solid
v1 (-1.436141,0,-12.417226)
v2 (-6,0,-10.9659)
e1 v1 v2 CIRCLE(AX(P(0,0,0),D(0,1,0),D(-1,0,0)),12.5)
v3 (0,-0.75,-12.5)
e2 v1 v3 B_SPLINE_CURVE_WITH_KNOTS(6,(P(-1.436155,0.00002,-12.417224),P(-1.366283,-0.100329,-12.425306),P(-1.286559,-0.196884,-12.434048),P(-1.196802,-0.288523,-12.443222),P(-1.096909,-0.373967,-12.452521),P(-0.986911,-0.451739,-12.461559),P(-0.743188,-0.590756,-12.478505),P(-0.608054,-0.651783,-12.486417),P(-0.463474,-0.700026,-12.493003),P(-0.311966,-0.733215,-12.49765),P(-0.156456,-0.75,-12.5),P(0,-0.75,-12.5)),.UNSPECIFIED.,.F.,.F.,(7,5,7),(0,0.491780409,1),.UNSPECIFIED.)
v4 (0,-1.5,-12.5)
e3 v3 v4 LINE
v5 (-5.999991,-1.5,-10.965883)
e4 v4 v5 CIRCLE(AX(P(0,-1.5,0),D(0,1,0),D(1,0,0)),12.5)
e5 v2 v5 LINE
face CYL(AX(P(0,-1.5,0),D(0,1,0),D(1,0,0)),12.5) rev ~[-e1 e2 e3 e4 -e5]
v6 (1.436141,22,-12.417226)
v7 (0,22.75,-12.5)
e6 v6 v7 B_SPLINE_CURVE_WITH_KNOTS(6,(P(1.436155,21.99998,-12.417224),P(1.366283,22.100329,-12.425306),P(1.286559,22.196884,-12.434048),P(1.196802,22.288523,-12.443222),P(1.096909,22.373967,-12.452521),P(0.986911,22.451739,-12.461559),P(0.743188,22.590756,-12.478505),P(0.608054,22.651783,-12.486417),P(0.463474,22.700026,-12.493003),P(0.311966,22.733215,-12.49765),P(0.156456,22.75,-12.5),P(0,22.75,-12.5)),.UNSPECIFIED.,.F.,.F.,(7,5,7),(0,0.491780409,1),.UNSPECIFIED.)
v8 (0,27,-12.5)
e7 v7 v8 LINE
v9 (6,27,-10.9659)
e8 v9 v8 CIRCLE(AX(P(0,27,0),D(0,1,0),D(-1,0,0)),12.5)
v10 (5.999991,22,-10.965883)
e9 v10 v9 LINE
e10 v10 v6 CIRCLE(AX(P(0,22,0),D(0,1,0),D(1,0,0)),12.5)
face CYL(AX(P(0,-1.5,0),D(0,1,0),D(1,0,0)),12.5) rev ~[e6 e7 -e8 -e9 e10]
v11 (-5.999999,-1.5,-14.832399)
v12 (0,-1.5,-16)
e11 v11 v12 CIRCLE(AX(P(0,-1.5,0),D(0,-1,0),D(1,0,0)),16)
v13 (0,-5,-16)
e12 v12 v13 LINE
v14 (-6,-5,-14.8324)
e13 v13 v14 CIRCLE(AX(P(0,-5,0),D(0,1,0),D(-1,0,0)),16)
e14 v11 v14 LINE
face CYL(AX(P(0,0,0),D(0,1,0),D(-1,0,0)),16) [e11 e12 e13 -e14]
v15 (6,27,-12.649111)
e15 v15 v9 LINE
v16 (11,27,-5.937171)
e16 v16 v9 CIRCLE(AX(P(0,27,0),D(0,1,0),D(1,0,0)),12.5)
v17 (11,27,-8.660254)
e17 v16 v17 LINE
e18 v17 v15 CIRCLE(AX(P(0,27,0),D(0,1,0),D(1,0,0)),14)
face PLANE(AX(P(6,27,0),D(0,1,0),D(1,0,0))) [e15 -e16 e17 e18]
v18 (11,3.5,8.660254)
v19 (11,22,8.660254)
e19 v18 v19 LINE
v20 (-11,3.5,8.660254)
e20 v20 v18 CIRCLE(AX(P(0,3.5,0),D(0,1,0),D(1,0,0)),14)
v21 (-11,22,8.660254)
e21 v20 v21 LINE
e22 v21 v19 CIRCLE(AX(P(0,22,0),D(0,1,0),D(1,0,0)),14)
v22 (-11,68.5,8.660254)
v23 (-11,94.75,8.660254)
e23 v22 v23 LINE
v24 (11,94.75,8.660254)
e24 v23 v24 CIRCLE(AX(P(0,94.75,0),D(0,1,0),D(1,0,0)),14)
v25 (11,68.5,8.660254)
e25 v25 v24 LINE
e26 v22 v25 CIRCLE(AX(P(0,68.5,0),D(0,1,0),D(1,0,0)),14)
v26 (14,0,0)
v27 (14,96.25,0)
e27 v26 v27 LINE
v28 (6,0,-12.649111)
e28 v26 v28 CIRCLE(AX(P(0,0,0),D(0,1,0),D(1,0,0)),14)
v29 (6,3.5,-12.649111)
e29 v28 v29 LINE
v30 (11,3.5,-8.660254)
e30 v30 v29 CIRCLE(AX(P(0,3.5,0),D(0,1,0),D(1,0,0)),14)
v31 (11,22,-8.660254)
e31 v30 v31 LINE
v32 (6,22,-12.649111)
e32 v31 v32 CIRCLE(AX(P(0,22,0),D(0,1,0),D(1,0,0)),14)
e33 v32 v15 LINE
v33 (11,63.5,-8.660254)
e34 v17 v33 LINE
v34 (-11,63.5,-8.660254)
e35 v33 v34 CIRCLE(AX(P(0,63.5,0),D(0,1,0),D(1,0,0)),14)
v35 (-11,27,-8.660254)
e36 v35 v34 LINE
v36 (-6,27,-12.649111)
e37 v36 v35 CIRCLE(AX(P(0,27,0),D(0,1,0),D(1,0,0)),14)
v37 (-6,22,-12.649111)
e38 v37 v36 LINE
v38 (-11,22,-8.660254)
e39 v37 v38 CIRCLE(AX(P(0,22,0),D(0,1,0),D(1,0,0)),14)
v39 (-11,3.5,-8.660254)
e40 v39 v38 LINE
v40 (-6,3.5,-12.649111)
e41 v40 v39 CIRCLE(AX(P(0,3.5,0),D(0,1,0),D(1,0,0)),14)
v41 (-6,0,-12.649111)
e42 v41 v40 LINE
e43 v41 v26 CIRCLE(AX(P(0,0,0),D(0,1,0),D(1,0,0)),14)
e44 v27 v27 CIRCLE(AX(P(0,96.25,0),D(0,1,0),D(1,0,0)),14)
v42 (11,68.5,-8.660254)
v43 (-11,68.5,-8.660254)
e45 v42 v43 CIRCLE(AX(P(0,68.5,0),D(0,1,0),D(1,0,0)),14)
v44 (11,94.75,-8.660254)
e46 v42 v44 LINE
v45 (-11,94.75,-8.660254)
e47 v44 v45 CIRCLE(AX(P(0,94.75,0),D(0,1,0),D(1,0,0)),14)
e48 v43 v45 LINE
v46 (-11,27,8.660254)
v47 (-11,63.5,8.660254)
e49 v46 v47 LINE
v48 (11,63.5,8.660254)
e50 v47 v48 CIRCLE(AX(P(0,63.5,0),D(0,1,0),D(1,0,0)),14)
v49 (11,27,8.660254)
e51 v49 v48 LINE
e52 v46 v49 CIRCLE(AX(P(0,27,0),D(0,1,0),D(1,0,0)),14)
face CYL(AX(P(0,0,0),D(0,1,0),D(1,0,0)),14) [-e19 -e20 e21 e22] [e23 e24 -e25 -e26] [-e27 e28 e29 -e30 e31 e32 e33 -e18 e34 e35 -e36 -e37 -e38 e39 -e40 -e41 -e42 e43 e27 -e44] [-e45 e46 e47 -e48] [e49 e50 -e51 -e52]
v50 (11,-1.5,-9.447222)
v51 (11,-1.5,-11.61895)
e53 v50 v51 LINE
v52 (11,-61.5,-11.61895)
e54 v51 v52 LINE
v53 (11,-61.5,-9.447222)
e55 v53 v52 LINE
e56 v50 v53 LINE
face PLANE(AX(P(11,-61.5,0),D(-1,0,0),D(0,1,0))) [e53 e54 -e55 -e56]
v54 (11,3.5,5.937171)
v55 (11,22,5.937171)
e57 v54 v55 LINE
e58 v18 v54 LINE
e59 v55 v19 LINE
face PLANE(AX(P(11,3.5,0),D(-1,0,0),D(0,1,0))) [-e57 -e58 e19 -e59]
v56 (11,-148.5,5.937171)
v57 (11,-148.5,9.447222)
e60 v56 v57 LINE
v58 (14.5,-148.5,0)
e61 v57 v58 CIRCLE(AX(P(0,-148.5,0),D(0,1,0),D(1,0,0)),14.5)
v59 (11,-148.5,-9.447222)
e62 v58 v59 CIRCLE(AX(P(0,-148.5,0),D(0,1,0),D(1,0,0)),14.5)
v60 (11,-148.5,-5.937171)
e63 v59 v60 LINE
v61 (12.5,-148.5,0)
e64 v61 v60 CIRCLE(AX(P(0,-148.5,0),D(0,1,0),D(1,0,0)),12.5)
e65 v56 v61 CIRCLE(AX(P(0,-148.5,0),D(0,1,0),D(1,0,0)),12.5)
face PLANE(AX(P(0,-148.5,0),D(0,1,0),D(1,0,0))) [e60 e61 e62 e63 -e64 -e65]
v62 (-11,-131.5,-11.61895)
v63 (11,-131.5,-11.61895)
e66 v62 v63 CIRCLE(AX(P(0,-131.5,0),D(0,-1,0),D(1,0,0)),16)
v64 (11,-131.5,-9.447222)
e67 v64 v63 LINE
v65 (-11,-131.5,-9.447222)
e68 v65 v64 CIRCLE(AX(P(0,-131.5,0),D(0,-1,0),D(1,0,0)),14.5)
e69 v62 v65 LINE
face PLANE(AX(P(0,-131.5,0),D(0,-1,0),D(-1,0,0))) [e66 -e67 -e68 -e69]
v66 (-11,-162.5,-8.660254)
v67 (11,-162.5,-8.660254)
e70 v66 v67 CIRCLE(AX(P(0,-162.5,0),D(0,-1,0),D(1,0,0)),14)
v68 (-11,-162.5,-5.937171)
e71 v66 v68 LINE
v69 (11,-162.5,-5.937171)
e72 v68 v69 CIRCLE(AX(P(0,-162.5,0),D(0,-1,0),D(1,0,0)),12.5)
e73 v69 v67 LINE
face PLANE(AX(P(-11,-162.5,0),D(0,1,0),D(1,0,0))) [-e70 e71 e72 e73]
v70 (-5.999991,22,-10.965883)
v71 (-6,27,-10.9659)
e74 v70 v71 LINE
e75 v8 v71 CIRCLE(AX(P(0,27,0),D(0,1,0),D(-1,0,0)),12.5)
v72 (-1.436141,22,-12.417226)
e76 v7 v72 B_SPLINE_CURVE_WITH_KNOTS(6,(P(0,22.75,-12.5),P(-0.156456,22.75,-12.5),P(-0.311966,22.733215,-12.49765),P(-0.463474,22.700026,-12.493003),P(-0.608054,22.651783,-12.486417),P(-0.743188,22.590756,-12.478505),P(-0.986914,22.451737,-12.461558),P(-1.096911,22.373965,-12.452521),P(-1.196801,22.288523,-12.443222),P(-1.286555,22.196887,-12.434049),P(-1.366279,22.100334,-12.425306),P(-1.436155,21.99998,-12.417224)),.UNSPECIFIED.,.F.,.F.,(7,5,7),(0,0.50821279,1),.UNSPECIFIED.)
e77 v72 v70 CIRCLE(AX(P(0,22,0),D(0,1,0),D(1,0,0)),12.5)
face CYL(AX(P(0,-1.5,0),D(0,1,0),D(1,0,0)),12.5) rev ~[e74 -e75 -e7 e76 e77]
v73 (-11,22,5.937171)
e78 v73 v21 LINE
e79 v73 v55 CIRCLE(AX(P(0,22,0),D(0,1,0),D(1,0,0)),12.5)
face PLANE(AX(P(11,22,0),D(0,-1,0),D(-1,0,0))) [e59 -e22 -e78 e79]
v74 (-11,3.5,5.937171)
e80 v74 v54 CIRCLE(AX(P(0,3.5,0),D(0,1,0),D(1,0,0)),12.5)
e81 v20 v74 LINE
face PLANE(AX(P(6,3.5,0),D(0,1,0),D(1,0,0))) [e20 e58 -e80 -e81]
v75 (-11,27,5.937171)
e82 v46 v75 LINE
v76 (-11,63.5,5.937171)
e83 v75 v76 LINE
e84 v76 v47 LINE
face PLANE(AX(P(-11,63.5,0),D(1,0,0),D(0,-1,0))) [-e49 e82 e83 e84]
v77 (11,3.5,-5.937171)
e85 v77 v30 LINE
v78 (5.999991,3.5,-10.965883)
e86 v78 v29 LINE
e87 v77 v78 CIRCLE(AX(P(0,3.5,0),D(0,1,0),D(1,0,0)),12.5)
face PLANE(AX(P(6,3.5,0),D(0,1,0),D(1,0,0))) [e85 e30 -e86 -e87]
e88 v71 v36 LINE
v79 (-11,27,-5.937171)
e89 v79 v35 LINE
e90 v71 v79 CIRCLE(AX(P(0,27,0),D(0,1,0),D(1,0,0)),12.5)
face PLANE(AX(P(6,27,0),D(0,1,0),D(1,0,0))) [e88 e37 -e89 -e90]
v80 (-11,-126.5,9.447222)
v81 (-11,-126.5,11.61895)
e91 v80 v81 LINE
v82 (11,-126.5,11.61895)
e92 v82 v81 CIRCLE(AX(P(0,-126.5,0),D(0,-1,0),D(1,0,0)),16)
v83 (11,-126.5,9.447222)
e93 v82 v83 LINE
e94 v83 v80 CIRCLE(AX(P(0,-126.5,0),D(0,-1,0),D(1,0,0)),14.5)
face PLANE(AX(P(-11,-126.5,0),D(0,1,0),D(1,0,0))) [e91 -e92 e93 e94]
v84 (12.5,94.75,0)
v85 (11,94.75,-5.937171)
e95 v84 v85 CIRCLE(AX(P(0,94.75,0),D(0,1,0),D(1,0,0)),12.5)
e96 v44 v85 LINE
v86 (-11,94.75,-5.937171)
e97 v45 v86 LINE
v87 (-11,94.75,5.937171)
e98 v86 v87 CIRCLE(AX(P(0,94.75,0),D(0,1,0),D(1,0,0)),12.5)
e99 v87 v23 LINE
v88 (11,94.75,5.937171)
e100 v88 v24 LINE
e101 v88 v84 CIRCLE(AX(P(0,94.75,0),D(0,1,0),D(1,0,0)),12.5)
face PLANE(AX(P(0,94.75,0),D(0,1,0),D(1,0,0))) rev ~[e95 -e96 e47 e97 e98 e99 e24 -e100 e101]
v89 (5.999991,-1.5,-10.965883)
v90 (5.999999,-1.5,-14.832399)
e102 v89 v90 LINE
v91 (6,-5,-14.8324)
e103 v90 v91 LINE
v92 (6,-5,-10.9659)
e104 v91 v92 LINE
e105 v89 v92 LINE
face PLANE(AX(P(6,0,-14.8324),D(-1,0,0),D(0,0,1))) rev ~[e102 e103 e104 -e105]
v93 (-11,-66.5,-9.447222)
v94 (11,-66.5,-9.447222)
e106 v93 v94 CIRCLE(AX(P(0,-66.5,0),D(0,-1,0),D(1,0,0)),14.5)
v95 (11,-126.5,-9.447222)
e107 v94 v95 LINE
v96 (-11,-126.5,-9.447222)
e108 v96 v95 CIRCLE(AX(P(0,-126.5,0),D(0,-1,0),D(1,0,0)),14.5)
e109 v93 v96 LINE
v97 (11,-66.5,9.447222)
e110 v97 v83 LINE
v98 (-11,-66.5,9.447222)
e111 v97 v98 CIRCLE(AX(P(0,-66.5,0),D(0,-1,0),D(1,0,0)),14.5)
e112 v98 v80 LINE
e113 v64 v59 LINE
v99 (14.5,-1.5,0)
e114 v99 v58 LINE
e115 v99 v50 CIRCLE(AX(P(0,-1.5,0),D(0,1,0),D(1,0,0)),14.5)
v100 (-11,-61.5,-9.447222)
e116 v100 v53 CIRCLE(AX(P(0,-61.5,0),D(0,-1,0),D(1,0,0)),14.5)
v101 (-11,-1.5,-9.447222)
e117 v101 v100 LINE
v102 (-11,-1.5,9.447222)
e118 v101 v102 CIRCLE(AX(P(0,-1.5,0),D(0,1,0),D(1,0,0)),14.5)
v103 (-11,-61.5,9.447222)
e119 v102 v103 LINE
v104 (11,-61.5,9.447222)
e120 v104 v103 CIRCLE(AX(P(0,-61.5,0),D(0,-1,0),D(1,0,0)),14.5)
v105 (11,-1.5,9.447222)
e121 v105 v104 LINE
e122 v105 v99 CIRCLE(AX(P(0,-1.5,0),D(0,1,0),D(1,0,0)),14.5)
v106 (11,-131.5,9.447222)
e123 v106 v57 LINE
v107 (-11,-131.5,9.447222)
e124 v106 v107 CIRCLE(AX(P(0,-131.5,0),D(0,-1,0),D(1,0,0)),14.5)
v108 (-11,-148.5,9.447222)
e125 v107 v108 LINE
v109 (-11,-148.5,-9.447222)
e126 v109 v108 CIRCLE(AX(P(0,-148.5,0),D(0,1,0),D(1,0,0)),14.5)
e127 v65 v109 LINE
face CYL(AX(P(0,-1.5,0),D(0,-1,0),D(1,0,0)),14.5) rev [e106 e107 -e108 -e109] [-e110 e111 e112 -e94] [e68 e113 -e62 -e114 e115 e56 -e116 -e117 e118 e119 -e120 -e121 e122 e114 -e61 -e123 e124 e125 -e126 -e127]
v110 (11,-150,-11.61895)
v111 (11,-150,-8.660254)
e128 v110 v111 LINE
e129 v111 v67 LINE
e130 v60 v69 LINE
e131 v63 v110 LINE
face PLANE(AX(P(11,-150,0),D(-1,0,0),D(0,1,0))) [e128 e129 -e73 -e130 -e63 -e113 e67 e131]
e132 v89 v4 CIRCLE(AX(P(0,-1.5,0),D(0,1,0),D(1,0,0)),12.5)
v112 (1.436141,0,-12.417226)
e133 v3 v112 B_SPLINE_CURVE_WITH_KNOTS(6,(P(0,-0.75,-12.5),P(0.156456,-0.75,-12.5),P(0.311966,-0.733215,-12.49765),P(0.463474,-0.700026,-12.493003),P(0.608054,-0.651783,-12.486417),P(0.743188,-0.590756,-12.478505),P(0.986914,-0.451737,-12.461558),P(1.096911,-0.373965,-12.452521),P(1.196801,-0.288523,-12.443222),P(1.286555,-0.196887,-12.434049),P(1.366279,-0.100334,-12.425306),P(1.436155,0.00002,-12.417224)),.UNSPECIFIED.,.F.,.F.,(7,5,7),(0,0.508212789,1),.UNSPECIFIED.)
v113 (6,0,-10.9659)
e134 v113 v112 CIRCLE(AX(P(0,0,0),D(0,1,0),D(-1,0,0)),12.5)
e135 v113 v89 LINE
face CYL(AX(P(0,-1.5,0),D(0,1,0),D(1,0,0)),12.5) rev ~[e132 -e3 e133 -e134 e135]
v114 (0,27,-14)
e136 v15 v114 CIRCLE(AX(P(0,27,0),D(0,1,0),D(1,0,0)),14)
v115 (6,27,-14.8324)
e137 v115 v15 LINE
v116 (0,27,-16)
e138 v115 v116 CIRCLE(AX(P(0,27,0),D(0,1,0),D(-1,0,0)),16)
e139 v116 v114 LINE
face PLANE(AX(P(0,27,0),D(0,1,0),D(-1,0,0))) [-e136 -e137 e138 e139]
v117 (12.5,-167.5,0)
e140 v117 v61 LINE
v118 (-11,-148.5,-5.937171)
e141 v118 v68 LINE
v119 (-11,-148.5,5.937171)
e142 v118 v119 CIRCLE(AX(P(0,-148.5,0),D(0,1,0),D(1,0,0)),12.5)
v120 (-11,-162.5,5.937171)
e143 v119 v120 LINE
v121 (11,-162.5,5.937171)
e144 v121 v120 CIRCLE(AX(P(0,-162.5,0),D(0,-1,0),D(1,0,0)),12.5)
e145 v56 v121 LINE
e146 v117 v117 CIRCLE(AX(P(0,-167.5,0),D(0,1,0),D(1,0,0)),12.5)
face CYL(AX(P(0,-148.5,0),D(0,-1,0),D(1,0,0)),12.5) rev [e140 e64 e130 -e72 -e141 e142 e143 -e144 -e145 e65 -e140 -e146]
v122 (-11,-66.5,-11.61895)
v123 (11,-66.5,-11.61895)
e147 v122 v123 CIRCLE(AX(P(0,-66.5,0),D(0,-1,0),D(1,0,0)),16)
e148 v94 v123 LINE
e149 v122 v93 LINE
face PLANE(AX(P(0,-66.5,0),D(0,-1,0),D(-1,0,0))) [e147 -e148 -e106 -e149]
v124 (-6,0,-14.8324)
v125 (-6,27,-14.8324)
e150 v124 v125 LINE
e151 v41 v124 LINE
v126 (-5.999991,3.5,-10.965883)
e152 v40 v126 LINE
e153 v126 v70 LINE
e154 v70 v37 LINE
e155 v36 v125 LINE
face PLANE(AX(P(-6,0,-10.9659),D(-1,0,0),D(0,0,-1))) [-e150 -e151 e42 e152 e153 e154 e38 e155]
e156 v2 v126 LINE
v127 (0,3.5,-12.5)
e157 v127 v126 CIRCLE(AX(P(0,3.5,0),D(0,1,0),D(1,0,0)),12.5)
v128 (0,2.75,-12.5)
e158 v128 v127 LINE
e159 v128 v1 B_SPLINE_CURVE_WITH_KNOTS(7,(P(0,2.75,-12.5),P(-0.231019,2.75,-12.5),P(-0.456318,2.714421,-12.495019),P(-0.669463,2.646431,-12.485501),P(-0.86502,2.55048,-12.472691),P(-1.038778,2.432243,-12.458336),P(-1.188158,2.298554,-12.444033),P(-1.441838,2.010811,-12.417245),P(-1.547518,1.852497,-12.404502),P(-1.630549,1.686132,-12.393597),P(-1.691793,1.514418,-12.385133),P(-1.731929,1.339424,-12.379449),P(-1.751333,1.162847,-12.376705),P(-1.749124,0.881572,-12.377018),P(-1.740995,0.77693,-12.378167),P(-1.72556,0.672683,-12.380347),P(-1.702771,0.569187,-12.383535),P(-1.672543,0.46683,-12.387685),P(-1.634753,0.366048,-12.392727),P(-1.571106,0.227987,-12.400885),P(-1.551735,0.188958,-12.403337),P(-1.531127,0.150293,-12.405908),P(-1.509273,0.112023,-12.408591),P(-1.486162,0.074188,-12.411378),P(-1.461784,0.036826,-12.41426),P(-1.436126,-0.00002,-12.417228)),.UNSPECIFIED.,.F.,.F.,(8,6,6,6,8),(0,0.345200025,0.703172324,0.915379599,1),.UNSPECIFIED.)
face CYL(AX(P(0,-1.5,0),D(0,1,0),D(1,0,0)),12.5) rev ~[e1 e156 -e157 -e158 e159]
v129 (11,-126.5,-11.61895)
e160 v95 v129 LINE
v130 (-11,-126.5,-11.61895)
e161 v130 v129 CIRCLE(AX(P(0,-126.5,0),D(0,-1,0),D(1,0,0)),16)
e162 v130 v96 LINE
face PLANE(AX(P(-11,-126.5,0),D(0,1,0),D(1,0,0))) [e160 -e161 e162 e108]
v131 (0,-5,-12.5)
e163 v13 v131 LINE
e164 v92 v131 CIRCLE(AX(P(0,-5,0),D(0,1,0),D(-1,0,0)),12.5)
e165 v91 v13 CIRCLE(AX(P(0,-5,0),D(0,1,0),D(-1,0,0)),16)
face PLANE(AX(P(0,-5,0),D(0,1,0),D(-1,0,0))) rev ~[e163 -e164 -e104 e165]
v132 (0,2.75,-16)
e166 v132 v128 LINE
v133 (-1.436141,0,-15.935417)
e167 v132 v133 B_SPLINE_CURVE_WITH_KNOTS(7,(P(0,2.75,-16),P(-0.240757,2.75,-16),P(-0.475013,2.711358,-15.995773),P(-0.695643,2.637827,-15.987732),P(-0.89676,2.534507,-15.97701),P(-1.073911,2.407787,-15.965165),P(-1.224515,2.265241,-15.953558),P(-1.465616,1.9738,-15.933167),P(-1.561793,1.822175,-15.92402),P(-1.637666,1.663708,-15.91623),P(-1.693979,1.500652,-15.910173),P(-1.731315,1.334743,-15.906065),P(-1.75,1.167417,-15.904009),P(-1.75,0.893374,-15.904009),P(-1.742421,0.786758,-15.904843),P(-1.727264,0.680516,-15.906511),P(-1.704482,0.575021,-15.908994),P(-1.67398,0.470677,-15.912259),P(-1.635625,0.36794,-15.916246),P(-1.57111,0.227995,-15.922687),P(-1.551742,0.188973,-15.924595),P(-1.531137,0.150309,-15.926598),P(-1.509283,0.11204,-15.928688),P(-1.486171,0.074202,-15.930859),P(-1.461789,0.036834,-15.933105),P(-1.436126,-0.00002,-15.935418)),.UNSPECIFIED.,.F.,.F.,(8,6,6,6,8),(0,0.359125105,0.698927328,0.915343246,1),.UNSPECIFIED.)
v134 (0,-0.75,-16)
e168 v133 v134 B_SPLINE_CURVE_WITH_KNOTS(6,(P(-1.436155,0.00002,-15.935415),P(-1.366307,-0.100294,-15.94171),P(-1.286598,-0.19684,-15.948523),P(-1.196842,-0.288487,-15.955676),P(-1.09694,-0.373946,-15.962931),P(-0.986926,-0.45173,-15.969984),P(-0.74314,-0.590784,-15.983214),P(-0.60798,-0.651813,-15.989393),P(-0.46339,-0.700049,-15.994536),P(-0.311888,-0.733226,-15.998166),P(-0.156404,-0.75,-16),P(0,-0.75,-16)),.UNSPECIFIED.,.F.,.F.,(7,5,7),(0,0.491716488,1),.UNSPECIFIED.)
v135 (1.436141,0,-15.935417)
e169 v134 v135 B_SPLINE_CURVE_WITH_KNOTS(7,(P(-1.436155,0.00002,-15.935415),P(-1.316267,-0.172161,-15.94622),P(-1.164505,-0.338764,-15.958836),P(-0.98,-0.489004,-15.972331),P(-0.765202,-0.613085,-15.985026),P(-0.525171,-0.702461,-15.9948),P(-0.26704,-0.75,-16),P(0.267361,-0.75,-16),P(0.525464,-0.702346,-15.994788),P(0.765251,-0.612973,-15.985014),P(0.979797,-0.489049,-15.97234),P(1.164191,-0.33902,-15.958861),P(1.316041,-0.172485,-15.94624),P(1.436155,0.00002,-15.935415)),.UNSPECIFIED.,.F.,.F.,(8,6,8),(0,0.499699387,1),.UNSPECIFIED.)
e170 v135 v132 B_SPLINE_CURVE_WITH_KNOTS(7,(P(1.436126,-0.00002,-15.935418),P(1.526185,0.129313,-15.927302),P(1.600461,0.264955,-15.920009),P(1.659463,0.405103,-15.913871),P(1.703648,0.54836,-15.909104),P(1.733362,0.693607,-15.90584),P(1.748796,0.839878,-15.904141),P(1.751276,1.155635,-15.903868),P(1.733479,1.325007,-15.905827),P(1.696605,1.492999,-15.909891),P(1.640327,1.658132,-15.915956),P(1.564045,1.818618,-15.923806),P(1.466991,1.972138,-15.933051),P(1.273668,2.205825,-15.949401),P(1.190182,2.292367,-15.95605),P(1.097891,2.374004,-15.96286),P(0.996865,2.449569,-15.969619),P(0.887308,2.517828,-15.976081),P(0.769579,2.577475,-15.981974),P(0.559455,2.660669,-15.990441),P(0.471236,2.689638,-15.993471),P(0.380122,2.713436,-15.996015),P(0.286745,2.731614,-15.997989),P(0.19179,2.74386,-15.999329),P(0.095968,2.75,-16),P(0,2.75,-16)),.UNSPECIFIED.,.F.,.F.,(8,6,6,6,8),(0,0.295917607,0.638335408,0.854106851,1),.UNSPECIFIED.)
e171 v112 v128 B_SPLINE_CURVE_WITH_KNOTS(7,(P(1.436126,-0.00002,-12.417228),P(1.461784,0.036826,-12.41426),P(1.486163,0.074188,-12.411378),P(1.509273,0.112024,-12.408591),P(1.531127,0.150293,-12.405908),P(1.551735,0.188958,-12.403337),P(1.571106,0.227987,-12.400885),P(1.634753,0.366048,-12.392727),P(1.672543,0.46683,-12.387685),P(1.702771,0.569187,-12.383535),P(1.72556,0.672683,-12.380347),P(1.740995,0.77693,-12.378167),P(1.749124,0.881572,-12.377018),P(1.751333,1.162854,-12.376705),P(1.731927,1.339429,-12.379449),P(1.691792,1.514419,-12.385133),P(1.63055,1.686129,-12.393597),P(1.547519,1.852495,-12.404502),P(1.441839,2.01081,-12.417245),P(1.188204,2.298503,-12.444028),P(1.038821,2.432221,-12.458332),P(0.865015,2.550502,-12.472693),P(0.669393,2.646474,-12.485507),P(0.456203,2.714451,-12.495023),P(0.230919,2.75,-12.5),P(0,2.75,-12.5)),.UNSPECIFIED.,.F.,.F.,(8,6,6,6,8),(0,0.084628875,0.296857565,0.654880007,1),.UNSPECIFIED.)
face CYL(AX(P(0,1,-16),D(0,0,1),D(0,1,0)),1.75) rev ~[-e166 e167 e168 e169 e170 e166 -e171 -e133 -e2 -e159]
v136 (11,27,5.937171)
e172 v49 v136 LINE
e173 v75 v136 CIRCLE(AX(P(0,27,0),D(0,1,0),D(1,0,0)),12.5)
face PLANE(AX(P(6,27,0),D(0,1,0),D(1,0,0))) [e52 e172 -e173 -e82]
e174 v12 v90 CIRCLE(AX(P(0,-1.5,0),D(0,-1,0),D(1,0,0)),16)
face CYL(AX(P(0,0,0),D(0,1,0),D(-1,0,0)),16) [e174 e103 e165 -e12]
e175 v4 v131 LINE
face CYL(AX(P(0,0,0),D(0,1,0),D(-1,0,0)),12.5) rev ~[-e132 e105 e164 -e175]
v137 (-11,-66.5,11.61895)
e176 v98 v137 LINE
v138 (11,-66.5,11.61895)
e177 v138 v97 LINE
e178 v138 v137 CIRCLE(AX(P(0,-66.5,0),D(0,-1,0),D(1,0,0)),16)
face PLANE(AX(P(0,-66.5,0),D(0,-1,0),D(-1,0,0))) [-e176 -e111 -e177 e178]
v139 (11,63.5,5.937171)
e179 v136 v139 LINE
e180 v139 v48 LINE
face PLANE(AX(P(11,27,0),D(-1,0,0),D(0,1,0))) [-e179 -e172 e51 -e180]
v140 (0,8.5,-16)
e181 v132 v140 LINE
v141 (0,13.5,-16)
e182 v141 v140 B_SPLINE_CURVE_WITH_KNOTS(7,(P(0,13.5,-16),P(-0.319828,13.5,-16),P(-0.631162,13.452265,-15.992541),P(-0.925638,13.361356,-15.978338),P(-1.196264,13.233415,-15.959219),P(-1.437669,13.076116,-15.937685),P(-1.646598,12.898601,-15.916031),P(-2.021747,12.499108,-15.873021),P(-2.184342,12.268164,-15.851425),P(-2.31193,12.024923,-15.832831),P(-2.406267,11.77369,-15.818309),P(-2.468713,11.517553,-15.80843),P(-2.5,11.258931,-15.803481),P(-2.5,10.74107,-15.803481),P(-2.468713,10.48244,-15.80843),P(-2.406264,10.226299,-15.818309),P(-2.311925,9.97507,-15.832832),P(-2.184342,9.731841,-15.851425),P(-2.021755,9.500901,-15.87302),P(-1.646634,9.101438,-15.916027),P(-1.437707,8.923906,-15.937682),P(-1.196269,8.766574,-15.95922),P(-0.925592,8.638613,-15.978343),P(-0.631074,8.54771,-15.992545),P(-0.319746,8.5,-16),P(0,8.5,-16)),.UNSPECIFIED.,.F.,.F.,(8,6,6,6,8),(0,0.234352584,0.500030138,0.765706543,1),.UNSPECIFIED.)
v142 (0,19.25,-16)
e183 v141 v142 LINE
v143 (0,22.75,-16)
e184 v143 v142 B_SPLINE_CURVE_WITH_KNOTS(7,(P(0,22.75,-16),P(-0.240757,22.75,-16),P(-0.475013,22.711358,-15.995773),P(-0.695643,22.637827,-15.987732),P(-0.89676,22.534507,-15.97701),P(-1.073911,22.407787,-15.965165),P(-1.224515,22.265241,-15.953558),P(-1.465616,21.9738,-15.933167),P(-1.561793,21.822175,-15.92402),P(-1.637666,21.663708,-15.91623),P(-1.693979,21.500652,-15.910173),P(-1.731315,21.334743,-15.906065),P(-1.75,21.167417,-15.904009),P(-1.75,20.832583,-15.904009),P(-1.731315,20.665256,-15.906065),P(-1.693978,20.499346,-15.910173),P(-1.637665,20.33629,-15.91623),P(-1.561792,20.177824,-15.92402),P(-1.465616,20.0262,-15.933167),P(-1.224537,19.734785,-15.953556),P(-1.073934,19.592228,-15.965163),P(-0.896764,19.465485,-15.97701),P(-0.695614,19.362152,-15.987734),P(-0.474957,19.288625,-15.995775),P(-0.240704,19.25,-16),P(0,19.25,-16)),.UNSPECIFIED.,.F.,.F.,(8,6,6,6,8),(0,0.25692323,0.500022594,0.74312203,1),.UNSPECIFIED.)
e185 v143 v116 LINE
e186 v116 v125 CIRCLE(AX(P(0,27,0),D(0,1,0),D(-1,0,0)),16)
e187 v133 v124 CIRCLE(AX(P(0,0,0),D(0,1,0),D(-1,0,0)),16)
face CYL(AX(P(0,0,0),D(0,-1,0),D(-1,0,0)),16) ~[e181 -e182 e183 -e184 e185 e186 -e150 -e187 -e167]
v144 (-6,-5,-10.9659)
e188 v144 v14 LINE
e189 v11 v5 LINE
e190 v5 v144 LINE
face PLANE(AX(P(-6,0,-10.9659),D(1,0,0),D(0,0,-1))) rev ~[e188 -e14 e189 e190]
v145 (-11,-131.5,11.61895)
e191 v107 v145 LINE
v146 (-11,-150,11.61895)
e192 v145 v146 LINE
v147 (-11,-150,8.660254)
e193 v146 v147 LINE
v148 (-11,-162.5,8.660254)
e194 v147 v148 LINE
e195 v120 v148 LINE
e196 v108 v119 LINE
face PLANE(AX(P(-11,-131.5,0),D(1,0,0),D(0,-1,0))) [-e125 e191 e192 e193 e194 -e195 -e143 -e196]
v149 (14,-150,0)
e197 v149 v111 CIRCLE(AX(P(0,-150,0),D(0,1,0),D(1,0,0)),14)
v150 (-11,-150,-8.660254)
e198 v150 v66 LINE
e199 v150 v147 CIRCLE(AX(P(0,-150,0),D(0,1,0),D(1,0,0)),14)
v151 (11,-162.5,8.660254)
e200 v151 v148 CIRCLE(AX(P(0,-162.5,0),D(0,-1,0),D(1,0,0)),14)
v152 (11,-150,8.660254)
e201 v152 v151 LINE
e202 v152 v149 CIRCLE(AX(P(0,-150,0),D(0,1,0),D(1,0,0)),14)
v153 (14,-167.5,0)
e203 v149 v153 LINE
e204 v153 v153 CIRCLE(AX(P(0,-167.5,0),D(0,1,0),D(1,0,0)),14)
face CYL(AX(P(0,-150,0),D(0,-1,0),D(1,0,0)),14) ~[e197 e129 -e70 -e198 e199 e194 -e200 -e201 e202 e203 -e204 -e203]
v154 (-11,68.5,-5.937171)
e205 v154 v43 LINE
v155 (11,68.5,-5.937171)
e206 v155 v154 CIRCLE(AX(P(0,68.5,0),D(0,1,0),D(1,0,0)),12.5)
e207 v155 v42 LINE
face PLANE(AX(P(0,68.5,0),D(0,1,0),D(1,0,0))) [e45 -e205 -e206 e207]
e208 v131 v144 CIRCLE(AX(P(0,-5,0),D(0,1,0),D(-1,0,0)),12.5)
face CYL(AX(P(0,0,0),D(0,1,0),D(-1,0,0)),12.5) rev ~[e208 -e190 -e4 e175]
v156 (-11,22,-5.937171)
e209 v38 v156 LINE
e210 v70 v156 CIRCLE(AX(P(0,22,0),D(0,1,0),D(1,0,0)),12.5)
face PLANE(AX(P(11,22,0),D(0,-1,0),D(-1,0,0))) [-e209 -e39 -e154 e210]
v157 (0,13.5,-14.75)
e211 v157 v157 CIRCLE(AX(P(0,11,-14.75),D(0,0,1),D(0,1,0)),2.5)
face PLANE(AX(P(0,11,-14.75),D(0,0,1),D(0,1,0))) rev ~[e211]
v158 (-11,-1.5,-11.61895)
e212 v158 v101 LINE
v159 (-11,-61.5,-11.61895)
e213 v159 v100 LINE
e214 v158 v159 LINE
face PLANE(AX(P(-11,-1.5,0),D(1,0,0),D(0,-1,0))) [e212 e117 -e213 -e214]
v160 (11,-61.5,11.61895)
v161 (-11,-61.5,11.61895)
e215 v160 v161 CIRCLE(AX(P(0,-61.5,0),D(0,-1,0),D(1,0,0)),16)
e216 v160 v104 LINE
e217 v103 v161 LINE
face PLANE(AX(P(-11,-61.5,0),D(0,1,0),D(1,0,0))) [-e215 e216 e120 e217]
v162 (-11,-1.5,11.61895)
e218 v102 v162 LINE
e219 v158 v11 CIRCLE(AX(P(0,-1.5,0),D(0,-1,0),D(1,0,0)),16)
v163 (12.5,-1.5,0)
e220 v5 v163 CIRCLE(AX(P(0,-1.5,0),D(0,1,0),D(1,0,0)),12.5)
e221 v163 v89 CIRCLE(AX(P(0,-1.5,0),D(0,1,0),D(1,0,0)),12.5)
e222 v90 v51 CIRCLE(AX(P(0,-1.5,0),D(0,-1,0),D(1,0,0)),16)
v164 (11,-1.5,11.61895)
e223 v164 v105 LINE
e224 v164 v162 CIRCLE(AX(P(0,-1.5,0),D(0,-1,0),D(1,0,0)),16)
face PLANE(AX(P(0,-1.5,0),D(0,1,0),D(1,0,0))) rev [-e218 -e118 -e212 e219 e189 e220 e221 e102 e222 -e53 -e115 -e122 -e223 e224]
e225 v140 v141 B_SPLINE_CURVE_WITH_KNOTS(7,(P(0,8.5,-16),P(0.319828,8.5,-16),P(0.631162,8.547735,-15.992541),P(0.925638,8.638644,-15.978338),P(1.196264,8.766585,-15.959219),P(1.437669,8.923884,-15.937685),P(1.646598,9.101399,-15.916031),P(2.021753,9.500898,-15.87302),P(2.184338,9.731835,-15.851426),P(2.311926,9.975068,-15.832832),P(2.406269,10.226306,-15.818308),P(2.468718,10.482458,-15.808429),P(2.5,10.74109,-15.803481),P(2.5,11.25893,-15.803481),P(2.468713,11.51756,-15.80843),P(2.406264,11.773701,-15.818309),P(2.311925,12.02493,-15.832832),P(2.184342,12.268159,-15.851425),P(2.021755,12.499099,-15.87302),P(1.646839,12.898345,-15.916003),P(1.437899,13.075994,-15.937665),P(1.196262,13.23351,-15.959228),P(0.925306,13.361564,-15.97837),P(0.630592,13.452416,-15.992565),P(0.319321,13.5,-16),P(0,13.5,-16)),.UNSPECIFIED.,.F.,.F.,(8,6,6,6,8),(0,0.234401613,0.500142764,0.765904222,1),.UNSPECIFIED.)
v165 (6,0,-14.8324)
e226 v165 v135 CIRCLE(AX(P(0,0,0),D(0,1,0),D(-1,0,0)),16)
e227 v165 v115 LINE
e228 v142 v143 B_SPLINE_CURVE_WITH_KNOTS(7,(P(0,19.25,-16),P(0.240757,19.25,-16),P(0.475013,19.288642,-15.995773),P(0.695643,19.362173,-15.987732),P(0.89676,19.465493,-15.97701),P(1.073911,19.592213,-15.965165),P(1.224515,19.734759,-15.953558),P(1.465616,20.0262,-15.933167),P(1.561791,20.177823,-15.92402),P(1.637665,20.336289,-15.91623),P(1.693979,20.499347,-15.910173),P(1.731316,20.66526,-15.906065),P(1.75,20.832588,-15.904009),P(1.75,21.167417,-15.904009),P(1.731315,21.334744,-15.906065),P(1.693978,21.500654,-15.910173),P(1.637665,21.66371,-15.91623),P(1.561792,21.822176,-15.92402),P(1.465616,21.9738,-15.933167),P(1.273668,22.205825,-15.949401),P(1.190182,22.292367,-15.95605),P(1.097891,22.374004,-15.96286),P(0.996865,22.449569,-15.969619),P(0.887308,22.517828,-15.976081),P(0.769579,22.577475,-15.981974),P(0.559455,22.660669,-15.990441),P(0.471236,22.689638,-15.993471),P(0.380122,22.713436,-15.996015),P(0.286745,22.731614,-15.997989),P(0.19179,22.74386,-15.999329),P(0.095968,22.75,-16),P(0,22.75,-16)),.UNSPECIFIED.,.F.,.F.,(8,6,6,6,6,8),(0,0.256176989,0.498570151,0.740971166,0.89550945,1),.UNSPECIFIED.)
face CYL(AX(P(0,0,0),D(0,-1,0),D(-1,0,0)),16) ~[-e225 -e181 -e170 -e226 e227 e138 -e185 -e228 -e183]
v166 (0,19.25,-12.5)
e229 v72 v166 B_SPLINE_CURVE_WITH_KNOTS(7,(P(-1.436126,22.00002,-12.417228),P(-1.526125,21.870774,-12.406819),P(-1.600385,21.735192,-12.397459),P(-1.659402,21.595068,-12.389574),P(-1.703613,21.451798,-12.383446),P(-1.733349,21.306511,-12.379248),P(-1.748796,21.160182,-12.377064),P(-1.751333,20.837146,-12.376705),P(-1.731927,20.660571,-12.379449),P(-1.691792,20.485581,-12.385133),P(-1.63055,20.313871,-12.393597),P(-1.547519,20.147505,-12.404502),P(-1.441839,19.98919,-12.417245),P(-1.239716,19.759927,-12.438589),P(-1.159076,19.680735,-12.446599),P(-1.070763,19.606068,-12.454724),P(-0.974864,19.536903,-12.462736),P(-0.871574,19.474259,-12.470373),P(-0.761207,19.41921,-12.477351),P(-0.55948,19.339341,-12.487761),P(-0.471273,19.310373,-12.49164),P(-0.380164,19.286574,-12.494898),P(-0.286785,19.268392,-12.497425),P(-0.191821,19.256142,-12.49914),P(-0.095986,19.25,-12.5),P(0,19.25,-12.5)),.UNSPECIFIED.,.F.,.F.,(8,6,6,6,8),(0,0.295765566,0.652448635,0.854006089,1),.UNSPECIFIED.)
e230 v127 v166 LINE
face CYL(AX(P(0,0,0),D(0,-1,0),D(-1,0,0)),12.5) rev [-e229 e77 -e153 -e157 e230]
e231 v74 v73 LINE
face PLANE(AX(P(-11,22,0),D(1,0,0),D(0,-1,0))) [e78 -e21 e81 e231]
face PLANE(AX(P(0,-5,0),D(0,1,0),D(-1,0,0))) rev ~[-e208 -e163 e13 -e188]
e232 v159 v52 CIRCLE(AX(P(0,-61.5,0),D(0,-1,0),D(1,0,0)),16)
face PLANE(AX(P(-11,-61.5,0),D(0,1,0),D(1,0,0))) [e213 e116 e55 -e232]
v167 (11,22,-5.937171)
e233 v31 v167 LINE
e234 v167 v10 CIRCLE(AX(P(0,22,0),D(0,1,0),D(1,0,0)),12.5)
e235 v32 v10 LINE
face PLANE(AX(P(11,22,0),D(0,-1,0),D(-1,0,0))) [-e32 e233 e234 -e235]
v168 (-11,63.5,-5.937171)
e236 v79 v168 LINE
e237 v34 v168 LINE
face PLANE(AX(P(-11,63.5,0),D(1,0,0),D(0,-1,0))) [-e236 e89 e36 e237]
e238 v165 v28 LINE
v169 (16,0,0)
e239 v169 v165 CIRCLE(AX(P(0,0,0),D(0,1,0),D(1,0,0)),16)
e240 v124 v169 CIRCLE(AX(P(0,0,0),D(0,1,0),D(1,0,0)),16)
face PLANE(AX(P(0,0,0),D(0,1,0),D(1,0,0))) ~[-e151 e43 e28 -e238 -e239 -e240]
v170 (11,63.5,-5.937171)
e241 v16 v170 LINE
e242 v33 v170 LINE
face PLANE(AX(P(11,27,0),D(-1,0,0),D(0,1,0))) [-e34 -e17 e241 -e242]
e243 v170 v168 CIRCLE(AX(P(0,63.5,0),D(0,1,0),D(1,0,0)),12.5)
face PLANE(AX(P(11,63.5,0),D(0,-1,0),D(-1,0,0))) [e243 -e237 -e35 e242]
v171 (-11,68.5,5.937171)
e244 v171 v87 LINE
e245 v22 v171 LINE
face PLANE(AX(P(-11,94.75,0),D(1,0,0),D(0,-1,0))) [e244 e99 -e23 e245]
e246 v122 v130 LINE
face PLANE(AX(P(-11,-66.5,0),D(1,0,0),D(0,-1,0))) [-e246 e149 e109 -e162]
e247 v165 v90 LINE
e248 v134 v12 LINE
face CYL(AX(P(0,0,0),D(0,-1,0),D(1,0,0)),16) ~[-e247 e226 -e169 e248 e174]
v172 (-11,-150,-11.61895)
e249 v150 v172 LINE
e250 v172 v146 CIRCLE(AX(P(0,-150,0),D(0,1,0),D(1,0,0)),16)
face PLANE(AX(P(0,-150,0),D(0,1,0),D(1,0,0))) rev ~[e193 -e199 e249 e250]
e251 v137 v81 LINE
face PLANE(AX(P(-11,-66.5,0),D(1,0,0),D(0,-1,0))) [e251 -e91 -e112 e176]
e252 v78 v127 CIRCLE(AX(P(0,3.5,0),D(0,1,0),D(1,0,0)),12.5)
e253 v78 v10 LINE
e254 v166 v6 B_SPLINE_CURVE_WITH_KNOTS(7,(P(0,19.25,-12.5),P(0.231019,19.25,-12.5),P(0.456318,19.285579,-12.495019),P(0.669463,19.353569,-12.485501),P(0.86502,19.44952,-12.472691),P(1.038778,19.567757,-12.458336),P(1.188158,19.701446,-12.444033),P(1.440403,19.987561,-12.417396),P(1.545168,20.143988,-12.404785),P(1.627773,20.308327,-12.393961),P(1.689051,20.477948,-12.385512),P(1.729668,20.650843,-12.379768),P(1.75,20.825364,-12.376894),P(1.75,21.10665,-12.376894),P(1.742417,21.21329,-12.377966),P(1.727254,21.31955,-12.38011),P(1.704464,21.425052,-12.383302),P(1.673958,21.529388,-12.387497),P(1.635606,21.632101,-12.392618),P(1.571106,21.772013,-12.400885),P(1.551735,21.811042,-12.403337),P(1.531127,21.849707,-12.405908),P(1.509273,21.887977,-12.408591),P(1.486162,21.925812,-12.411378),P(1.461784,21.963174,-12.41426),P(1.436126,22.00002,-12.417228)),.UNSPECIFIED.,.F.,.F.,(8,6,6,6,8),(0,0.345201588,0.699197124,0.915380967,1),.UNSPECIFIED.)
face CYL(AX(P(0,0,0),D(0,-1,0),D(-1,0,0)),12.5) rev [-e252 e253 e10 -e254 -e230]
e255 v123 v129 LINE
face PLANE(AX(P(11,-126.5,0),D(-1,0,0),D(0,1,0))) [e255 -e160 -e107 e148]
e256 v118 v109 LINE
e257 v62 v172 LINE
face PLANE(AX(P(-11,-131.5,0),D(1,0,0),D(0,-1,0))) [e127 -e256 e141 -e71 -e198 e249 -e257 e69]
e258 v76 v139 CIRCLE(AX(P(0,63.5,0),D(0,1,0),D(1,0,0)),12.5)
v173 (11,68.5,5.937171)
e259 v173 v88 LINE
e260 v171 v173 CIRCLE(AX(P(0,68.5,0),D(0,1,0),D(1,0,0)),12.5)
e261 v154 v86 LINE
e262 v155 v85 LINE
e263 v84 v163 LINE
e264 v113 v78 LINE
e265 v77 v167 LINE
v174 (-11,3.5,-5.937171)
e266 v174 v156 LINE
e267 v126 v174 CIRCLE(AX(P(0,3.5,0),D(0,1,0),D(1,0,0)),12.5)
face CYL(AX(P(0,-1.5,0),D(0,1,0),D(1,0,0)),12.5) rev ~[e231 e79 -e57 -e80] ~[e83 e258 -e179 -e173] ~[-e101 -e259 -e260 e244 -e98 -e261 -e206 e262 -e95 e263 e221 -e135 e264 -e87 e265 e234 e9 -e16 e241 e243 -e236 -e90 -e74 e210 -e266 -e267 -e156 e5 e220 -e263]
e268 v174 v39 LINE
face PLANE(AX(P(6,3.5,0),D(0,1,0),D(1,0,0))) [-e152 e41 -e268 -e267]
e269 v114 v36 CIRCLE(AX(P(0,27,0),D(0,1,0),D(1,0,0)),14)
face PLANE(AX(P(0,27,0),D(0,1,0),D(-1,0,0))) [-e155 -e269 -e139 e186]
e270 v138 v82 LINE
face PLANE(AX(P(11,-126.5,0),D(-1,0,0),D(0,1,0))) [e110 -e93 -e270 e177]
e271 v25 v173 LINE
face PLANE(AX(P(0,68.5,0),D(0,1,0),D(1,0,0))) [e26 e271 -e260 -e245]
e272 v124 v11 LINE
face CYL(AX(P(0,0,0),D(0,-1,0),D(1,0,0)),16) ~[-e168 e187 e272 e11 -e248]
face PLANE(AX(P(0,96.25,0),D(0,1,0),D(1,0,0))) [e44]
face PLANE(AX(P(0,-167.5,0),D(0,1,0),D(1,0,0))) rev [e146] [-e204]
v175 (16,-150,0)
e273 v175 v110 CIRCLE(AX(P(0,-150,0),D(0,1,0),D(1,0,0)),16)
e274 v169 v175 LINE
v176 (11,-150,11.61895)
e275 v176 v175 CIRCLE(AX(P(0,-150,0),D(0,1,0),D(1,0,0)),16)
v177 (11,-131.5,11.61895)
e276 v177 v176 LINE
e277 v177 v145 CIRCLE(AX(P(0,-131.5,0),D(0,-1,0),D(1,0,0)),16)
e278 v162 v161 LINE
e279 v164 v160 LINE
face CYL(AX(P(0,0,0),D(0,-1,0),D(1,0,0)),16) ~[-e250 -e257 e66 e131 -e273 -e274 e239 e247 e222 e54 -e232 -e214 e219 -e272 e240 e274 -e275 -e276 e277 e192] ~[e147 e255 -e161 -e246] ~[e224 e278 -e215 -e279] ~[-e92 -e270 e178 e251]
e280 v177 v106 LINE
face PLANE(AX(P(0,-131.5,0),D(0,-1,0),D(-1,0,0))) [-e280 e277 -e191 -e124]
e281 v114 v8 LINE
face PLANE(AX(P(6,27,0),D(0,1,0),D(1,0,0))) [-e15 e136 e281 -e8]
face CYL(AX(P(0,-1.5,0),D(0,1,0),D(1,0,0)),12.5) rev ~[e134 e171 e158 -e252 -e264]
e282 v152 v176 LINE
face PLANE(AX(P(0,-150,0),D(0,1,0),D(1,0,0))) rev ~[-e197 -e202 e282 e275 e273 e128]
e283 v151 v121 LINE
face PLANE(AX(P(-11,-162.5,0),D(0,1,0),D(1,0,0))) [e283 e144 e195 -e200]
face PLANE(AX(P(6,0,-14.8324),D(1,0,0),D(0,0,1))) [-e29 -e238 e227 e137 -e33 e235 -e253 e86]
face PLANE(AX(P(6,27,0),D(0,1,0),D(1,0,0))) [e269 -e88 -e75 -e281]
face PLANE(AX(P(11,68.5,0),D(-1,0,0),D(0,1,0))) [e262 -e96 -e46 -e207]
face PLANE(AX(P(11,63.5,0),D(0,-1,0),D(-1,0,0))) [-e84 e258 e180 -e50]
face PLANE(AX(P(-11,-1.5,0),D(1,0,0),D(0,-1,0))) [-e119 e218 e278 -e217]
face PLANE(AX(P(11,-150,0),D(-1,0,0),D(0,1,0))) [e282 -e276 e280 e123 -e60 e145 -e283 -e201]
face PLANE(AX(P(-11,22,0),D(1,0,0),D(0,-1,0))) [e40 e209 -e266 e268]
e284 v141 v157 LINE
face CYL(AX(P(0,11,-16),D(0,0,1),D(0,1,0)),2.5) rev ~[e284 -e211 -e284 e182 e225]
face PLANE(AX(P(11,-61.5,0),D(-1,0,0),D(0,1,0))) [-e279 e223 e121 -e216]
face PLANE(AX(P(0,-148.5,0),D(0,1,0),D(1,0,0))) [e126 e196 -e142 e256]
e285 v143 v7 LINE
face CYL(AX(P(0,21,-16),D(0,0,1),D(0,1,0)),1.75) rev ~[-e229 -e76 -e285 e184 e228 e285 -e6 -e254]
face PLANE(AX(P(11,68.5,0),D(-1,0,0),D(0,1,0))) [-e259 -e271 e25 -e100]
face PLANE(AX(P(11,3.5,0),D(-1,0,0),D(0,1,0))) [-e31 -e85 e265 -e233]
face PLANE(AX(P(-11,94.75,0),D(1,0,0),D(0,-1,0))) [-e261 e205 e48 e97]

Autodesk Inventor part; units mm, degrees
ref_plane "YZ Plane" through (0, 0, 0) normal (1, 0, 0) x (0, 1, 0)
ref_plane "XZ Plane" through (0, 0, 0) normal (0, 1, 0) x (-1, 0, 0)
sketch "Sketch1" plane through (0, 0, 0) normal (0, 0, 1) x (1, 0, 0)
  line L0 (0, -222.05) -> (0, 149.3) projected
  line L1 (0, 0) -> (14, 0)
  line L2 (14, 0) -> (14, 96.25)
  line L3 (14, 96.25) -> (0, 96.25)
  line L4 (0, 96.25) -> (0, 0)
  line L5 (0, 0) -> (16, 0)
  line L6 (16, 0) -> (16, -150)
  line L7 (16, -150) -> (0, -150)
  line L8 (0, -150) -> (0, 0)
  line L9 (0, -150) -> (14, -150)
  line L10 (14, -150) -> (14, -169)
  line L11 (14, -169) -> (0, -169)
  line L12 (0, -169) -> (0, -150)
  line L13 (12.5, 94.75) -> (0, 94.75)
  line L14 (0, 94.75) -> (0, -1.5)
  line L15 (0, -1.5) -> (12.5, -1.5)
  line L16 (12.5, -1.5) -> (12.5, 94.75)
  line L17 (12.5, -167.5) -> (0, -167.5)
  line L18 (0, -167.5) -> (0, -148.5)
  line L19 (0, -148.5) -> (12.5, -148.5)
  line L20 (12.5, -148.5) -> (12.5, -167.5)
  line L21 (0, -1.5) -> (14.5, -1.5)
  line L22 (14.5, -1.5) -> (14.5, -148.5)
  line L23 (14.5, -148.5) -> (0, -148.5)
  line L24 (0, -148.5) -> (0, -1.5)
  line L25 (12.5, -167.5) -> (14, -167.5)
  point P0 (0, 96.25)
  point P1 (0, -169)
  point P2 (14, 0)
  point P3 (0, 94.75)
  point P4 (12.5, -1.5)
  point P5 (0, -167.5)
  dimension "d0" = 28
  dimension "d1" = 96.25
  dimension "d3" = 150
  dimension "d4" = 19
  dimension "d7" = 32
  dimension "d8" = 28
  dimension "d13" = 1.5
  dimension "d14" = 1.5
  dimension "d15" = 1.5
  dimension "d16" = 1.5
  dimension "d17" = 1.5
  dimension "d18" = 1.5
revolve "Revolution1" add sketch "Sketch1" angle 360 about axis through (0, -10, 0) along (0, 1, 0) contours L20 L7 L10 L25 | L20 L23 L22 L21 L16 L1 L5 L6 L7 | L0 L3 L2 L1 L16 L13
sketch "Sketch2" plane through (0, 0, 0) normal (0, 1, 0) x (-1, 0, 0)
  circle A0 centre (0, 0) radius 16 projected
  line L0 (6, -12.6491) -> (6, -14.8324)
  circle A1 centre (0, 0) radius 16 projected
  line L1 (-6, -12.6491) -> (-6, -14.8324)
  line L2 (0, -22.4) -> (0, 22.4) projected
  circle A2 centre (0, 0) radius 14 projected
  point P0 (0, 16)
  point P1 (0, -16)
  dimension "d9" = 12
extrude "Extrusion1" [suppressed]
sketch "Sketch3" plane through (0, 0, 0) normal (0, 0, 1) x (1, 0, 0)
  line L0 (11, 94.75) -> (-11, 94.75)
  line L1 (-11, 94.75) -> (-11, -167.5)
  line L2 (-11, -167.5) -> (11, -167.5)
  line L3 (11, -167.5) -> (11, 94.75)
  line L4 (12.5, -167.5) -> (12.5, -148.5) projected
  line L5 (-12.5, -167.5) -> (-12.5, -148.5) projected
  line L6 (0, -219.95) -> (0, 147.2) projected
  line L7 (-12.5, -167.5) -> (12.5, -167.5) projected
  line L8 (-12.5, 94.75) -> (12.5, 94.75) projected
  line L9 (11, -131.5) -> (-11, -131.5)
  line L10 (-11, -131.5) -> (-11, -126.5)
  line L11 (-11, -126.5) -> (11, -126.5)
  line L12 (11, -126.5) -> (11, -131.5)
  line L13 (11, -66.5) -> (-11, -66.5)
  line L14 (-11, -66.5) -> (-11, -61.5)
  line L15 (-11, -61.5) -> (11, -61.5)
  line L16 (11, -61.5) -> (11, -66.5)
  line L17 (-12.5, -1.5) -> (-12.5, 94.75) projected
  line L18 (11, -1.5) -> (-12.5, -1.5)
  line L19 (-12.5, -1.5) -> (-12.5, 3.5)
  line L20 (-12.5, 3.5) -> (11, 3.5)
  line L21 (11, 3.5) -> (11, -1.5)
  line L22 (11, 63.5) -> (-11, 63.5)
  line L23 (-11, 63.5) -> (-11, 68.5)
  line L24 (-11, 68.5) -> (11, 68.5)
  line L25 (11, 68.5) -> (11, 63.5)
  line L26 (0, -126.5) -> (0, -66.5)
  line L27 (0, -61.5) -> (0, -1.5)
  line L28 (0, 3.5) -> (0, 63.5)
  line L29 (-12.5, -1.5) -> (12.5, -1.5) projected
  line L30 (-16, 0) -> (16, 0) projected
  line L31 (-16, -150) -> (16, -150) projected
  line L32 (-6, 0) -> (6, 0)
  line L33 (6, 0) -> (6, 27)
  line L34 (6, 27) -> (-6, 27)
  line L35 (-6, 27) -> (-6, 0)
  line L36 (11, 22) -> (-11, 22)
  line L37 (-11, 22) -> (-11, 27)
  line L38 (-11, 27) -> (11, 27)
  line L39 (11, 27) -> (11, 22)
  line L40 (-6, 22) -> (11, 22)
  line L41 (-12.5, -162.5) -> (12.5, -162.5)
  line L42 (12.5, -162.5) -> (12.5, -167.5)
  line L43 (12.5, -167.5) -> (-12.5, -167.5)
  line L44 (-12.5, -167.5) -> (-12.5, -162.5)
  point P0 (0, 0)
  point P1 (-11, -131.5)
  point P2 (-11, -66.5)
  point P3 (11, -126.5)
  point P4 (-11, -1.5)
  point P5 (11, -61.5)
  point P6 (-11, 63.5)
  point P7 (-11, 3.5)
  point P8 (11, 3.5)
  point P9 (11, 68.5)
  point P10 (-11, 22)
  point P11 (11, 27)
  point P12 (6, 22)
  point P13 (6, 3.5)
  point P14 (-6, 3.5)
  point P15 (-11, -162.5)
  point P16 (11, -162.5)
  dimension "d19" = 1.5
  dimension "d22" = 5
  dimension "d23" = 5
  dimension "d24" = 5
  dimension "d25" = 5
  dimension "d26" = 60
  dimension "d27" = 5
  dimension "d32" = 5
extrude "Extrusion2" cut sketch "Sketch3" along normal through all both and the other way through all contours L3 L24 L6 L0 | L6 L24 L1 L0 | L3 L38 L34 L6 L22 | L6 L34 L38 L1 L22 | L3 L20 L33 L36 | L1 L36 L35 L20 | L36 L33 L20 L6 | L6 L20 L35 L36 | L18 L6 L15 L1 | L3 L15 L6 L18 | L13 L6 L11 L1 | L3 L11 L6 L13 | L9 L6 L31 L1 | L3 L31 L6 L9 | L31 L6 L41 L1 | L3 L41 L6 L31
sketch "Sketch4" plane through (0, 0, 0) normal (0, 1, 0) x (-1, 0, 0)
  circle A0 centre (0, 0) radius 16 projected
  circle A1 centre (0, 0) radius 12.5 projected
  line L0 (6, -10.9659) -> (6, -14.8324)
  line L1 (-6, -14.8324) -> (-6, -10.9659)
  line L2 (0, -22.4) -> (0, 22.4) projected
  dimension "d33" = 12
extrude "Extrusion3" add sketch "Sketch4" along normal blind 27 and the other way blind 5 contours A0 L2 A1 L0 | A0 L1 A1 L2 picked at (3.409, -13.2047) picked at (-3.409, -13.2047)
ref_plane "Work Plane1" through (0, -75, -16) normal (0, 0, 1) x (1, 0, 0)
sketch "Sketch5" plane through (0, -75, -16) normal (0, 0, 1) x (1, 0, 0)
  line L0 (-6, 73.5) -> (-11, 73.5) projected
  line L1 (-11, 73.5) -> (-11, 13.5) projected
  line L2 (-11, 13.5) -> (11, 13.5) projected
  line L3 (11, 13.5) -> (11, 73.5) projected
  line L4 (11, 73.5) -> (6, 73.5) projected
  line L5 (6, 70) -> (6, 73.5) projected
  line L6 (-6, 70) -> (6, 70) projected
  line L7 (-6, 73.5) -> (-6, 70) projected
  line L8 (6, 75) -> (-6, 75) projected
  line L9 (-6, 102) -> (-6, 75) projected
  line L10 (6, 102) -> (-6, 102) projected
  line L11 (6, 75) -> (6, 102) projected
  line L12 (11, -56.5) -> (11, -75) projected
  line L13 (11, -75) -> (11, -75) projected
  line L14 (11, -75) -> (11, -56.5) projected
  line L15 (11, -56.5) -> (-11, -56.5) projected
  line L16 (-11, -56.5) -> (-11, -75) projected
  line L17 (-11, -75) -> (-11, -75) projected
  line L18 (-11, -75) -> (-11, -56.5) projected
  line L19 (-11, -56.5) -> (11, -56.5) projected
  line L20 (-11, 73.5) -> (11, 73.5) projected
  line L21 (11, 73.5) -> (11, 13.5) projected
  line L22 (11, 13.5) -> (-11, 13.5) projected
  line L23 (-11, 13.5) -> (-11, 73.5) projected
  line L24 (-11, 8.5) -> (11, 8.5) projected
  line L25 (11, 8.5) -> (11, -51.5) projected
  line L26 (11, -51.5) -> (-11, -51.5) projected
  line L27 (-11, -51.5) -> (-11, 8.5) projected
  line L28 (11, 8.5) -> (-11, 8.5) projected
  line L29 (-11, 8.5) -> (-11, -51.5) projected
  line L30 (-11, -51.5) -> (11, -51.5) projected
  line L31 (11, -51.5) -> (11, 8.5) projected
  line L32 (-6, 70) -> (6, 70) projected
  line L33 (-6, 70) -> (-6, 102)
  line L34 (-6, 102) -> (-6, 75) projected
  line L35 (-6, 86) -> (6, 86)
  line L36 (0, -145.25) -> (0, 224) projected
  point P0 (0, 75)
  point P1 (0, 96)
  point P2 (0, 76)
  point P3 (0, 86)
  dimension "d38" = 20
hole "Hole1" at (0, 21, -16) at (0, 1, -16) direction (0, 0, 1) diameter 3.5 depth 10
hole "Hole2" at (0, 11, -16) direction (0, 0, 1) diameter 5 depth 1.25
equation "\"d14\" = d13"
equation "\"d15\" = d13"
equation "\"d16\" = d13"
equation "\"d17\" = d13"
equation "\"d18\" = d13"
equation "\"d23\" = d22"
equation "\"d24\" = d22"
equation "\"d25\" = d23"
equation "\"d27\" = d24"
properties part number "Test_Electronics_ Housing"
